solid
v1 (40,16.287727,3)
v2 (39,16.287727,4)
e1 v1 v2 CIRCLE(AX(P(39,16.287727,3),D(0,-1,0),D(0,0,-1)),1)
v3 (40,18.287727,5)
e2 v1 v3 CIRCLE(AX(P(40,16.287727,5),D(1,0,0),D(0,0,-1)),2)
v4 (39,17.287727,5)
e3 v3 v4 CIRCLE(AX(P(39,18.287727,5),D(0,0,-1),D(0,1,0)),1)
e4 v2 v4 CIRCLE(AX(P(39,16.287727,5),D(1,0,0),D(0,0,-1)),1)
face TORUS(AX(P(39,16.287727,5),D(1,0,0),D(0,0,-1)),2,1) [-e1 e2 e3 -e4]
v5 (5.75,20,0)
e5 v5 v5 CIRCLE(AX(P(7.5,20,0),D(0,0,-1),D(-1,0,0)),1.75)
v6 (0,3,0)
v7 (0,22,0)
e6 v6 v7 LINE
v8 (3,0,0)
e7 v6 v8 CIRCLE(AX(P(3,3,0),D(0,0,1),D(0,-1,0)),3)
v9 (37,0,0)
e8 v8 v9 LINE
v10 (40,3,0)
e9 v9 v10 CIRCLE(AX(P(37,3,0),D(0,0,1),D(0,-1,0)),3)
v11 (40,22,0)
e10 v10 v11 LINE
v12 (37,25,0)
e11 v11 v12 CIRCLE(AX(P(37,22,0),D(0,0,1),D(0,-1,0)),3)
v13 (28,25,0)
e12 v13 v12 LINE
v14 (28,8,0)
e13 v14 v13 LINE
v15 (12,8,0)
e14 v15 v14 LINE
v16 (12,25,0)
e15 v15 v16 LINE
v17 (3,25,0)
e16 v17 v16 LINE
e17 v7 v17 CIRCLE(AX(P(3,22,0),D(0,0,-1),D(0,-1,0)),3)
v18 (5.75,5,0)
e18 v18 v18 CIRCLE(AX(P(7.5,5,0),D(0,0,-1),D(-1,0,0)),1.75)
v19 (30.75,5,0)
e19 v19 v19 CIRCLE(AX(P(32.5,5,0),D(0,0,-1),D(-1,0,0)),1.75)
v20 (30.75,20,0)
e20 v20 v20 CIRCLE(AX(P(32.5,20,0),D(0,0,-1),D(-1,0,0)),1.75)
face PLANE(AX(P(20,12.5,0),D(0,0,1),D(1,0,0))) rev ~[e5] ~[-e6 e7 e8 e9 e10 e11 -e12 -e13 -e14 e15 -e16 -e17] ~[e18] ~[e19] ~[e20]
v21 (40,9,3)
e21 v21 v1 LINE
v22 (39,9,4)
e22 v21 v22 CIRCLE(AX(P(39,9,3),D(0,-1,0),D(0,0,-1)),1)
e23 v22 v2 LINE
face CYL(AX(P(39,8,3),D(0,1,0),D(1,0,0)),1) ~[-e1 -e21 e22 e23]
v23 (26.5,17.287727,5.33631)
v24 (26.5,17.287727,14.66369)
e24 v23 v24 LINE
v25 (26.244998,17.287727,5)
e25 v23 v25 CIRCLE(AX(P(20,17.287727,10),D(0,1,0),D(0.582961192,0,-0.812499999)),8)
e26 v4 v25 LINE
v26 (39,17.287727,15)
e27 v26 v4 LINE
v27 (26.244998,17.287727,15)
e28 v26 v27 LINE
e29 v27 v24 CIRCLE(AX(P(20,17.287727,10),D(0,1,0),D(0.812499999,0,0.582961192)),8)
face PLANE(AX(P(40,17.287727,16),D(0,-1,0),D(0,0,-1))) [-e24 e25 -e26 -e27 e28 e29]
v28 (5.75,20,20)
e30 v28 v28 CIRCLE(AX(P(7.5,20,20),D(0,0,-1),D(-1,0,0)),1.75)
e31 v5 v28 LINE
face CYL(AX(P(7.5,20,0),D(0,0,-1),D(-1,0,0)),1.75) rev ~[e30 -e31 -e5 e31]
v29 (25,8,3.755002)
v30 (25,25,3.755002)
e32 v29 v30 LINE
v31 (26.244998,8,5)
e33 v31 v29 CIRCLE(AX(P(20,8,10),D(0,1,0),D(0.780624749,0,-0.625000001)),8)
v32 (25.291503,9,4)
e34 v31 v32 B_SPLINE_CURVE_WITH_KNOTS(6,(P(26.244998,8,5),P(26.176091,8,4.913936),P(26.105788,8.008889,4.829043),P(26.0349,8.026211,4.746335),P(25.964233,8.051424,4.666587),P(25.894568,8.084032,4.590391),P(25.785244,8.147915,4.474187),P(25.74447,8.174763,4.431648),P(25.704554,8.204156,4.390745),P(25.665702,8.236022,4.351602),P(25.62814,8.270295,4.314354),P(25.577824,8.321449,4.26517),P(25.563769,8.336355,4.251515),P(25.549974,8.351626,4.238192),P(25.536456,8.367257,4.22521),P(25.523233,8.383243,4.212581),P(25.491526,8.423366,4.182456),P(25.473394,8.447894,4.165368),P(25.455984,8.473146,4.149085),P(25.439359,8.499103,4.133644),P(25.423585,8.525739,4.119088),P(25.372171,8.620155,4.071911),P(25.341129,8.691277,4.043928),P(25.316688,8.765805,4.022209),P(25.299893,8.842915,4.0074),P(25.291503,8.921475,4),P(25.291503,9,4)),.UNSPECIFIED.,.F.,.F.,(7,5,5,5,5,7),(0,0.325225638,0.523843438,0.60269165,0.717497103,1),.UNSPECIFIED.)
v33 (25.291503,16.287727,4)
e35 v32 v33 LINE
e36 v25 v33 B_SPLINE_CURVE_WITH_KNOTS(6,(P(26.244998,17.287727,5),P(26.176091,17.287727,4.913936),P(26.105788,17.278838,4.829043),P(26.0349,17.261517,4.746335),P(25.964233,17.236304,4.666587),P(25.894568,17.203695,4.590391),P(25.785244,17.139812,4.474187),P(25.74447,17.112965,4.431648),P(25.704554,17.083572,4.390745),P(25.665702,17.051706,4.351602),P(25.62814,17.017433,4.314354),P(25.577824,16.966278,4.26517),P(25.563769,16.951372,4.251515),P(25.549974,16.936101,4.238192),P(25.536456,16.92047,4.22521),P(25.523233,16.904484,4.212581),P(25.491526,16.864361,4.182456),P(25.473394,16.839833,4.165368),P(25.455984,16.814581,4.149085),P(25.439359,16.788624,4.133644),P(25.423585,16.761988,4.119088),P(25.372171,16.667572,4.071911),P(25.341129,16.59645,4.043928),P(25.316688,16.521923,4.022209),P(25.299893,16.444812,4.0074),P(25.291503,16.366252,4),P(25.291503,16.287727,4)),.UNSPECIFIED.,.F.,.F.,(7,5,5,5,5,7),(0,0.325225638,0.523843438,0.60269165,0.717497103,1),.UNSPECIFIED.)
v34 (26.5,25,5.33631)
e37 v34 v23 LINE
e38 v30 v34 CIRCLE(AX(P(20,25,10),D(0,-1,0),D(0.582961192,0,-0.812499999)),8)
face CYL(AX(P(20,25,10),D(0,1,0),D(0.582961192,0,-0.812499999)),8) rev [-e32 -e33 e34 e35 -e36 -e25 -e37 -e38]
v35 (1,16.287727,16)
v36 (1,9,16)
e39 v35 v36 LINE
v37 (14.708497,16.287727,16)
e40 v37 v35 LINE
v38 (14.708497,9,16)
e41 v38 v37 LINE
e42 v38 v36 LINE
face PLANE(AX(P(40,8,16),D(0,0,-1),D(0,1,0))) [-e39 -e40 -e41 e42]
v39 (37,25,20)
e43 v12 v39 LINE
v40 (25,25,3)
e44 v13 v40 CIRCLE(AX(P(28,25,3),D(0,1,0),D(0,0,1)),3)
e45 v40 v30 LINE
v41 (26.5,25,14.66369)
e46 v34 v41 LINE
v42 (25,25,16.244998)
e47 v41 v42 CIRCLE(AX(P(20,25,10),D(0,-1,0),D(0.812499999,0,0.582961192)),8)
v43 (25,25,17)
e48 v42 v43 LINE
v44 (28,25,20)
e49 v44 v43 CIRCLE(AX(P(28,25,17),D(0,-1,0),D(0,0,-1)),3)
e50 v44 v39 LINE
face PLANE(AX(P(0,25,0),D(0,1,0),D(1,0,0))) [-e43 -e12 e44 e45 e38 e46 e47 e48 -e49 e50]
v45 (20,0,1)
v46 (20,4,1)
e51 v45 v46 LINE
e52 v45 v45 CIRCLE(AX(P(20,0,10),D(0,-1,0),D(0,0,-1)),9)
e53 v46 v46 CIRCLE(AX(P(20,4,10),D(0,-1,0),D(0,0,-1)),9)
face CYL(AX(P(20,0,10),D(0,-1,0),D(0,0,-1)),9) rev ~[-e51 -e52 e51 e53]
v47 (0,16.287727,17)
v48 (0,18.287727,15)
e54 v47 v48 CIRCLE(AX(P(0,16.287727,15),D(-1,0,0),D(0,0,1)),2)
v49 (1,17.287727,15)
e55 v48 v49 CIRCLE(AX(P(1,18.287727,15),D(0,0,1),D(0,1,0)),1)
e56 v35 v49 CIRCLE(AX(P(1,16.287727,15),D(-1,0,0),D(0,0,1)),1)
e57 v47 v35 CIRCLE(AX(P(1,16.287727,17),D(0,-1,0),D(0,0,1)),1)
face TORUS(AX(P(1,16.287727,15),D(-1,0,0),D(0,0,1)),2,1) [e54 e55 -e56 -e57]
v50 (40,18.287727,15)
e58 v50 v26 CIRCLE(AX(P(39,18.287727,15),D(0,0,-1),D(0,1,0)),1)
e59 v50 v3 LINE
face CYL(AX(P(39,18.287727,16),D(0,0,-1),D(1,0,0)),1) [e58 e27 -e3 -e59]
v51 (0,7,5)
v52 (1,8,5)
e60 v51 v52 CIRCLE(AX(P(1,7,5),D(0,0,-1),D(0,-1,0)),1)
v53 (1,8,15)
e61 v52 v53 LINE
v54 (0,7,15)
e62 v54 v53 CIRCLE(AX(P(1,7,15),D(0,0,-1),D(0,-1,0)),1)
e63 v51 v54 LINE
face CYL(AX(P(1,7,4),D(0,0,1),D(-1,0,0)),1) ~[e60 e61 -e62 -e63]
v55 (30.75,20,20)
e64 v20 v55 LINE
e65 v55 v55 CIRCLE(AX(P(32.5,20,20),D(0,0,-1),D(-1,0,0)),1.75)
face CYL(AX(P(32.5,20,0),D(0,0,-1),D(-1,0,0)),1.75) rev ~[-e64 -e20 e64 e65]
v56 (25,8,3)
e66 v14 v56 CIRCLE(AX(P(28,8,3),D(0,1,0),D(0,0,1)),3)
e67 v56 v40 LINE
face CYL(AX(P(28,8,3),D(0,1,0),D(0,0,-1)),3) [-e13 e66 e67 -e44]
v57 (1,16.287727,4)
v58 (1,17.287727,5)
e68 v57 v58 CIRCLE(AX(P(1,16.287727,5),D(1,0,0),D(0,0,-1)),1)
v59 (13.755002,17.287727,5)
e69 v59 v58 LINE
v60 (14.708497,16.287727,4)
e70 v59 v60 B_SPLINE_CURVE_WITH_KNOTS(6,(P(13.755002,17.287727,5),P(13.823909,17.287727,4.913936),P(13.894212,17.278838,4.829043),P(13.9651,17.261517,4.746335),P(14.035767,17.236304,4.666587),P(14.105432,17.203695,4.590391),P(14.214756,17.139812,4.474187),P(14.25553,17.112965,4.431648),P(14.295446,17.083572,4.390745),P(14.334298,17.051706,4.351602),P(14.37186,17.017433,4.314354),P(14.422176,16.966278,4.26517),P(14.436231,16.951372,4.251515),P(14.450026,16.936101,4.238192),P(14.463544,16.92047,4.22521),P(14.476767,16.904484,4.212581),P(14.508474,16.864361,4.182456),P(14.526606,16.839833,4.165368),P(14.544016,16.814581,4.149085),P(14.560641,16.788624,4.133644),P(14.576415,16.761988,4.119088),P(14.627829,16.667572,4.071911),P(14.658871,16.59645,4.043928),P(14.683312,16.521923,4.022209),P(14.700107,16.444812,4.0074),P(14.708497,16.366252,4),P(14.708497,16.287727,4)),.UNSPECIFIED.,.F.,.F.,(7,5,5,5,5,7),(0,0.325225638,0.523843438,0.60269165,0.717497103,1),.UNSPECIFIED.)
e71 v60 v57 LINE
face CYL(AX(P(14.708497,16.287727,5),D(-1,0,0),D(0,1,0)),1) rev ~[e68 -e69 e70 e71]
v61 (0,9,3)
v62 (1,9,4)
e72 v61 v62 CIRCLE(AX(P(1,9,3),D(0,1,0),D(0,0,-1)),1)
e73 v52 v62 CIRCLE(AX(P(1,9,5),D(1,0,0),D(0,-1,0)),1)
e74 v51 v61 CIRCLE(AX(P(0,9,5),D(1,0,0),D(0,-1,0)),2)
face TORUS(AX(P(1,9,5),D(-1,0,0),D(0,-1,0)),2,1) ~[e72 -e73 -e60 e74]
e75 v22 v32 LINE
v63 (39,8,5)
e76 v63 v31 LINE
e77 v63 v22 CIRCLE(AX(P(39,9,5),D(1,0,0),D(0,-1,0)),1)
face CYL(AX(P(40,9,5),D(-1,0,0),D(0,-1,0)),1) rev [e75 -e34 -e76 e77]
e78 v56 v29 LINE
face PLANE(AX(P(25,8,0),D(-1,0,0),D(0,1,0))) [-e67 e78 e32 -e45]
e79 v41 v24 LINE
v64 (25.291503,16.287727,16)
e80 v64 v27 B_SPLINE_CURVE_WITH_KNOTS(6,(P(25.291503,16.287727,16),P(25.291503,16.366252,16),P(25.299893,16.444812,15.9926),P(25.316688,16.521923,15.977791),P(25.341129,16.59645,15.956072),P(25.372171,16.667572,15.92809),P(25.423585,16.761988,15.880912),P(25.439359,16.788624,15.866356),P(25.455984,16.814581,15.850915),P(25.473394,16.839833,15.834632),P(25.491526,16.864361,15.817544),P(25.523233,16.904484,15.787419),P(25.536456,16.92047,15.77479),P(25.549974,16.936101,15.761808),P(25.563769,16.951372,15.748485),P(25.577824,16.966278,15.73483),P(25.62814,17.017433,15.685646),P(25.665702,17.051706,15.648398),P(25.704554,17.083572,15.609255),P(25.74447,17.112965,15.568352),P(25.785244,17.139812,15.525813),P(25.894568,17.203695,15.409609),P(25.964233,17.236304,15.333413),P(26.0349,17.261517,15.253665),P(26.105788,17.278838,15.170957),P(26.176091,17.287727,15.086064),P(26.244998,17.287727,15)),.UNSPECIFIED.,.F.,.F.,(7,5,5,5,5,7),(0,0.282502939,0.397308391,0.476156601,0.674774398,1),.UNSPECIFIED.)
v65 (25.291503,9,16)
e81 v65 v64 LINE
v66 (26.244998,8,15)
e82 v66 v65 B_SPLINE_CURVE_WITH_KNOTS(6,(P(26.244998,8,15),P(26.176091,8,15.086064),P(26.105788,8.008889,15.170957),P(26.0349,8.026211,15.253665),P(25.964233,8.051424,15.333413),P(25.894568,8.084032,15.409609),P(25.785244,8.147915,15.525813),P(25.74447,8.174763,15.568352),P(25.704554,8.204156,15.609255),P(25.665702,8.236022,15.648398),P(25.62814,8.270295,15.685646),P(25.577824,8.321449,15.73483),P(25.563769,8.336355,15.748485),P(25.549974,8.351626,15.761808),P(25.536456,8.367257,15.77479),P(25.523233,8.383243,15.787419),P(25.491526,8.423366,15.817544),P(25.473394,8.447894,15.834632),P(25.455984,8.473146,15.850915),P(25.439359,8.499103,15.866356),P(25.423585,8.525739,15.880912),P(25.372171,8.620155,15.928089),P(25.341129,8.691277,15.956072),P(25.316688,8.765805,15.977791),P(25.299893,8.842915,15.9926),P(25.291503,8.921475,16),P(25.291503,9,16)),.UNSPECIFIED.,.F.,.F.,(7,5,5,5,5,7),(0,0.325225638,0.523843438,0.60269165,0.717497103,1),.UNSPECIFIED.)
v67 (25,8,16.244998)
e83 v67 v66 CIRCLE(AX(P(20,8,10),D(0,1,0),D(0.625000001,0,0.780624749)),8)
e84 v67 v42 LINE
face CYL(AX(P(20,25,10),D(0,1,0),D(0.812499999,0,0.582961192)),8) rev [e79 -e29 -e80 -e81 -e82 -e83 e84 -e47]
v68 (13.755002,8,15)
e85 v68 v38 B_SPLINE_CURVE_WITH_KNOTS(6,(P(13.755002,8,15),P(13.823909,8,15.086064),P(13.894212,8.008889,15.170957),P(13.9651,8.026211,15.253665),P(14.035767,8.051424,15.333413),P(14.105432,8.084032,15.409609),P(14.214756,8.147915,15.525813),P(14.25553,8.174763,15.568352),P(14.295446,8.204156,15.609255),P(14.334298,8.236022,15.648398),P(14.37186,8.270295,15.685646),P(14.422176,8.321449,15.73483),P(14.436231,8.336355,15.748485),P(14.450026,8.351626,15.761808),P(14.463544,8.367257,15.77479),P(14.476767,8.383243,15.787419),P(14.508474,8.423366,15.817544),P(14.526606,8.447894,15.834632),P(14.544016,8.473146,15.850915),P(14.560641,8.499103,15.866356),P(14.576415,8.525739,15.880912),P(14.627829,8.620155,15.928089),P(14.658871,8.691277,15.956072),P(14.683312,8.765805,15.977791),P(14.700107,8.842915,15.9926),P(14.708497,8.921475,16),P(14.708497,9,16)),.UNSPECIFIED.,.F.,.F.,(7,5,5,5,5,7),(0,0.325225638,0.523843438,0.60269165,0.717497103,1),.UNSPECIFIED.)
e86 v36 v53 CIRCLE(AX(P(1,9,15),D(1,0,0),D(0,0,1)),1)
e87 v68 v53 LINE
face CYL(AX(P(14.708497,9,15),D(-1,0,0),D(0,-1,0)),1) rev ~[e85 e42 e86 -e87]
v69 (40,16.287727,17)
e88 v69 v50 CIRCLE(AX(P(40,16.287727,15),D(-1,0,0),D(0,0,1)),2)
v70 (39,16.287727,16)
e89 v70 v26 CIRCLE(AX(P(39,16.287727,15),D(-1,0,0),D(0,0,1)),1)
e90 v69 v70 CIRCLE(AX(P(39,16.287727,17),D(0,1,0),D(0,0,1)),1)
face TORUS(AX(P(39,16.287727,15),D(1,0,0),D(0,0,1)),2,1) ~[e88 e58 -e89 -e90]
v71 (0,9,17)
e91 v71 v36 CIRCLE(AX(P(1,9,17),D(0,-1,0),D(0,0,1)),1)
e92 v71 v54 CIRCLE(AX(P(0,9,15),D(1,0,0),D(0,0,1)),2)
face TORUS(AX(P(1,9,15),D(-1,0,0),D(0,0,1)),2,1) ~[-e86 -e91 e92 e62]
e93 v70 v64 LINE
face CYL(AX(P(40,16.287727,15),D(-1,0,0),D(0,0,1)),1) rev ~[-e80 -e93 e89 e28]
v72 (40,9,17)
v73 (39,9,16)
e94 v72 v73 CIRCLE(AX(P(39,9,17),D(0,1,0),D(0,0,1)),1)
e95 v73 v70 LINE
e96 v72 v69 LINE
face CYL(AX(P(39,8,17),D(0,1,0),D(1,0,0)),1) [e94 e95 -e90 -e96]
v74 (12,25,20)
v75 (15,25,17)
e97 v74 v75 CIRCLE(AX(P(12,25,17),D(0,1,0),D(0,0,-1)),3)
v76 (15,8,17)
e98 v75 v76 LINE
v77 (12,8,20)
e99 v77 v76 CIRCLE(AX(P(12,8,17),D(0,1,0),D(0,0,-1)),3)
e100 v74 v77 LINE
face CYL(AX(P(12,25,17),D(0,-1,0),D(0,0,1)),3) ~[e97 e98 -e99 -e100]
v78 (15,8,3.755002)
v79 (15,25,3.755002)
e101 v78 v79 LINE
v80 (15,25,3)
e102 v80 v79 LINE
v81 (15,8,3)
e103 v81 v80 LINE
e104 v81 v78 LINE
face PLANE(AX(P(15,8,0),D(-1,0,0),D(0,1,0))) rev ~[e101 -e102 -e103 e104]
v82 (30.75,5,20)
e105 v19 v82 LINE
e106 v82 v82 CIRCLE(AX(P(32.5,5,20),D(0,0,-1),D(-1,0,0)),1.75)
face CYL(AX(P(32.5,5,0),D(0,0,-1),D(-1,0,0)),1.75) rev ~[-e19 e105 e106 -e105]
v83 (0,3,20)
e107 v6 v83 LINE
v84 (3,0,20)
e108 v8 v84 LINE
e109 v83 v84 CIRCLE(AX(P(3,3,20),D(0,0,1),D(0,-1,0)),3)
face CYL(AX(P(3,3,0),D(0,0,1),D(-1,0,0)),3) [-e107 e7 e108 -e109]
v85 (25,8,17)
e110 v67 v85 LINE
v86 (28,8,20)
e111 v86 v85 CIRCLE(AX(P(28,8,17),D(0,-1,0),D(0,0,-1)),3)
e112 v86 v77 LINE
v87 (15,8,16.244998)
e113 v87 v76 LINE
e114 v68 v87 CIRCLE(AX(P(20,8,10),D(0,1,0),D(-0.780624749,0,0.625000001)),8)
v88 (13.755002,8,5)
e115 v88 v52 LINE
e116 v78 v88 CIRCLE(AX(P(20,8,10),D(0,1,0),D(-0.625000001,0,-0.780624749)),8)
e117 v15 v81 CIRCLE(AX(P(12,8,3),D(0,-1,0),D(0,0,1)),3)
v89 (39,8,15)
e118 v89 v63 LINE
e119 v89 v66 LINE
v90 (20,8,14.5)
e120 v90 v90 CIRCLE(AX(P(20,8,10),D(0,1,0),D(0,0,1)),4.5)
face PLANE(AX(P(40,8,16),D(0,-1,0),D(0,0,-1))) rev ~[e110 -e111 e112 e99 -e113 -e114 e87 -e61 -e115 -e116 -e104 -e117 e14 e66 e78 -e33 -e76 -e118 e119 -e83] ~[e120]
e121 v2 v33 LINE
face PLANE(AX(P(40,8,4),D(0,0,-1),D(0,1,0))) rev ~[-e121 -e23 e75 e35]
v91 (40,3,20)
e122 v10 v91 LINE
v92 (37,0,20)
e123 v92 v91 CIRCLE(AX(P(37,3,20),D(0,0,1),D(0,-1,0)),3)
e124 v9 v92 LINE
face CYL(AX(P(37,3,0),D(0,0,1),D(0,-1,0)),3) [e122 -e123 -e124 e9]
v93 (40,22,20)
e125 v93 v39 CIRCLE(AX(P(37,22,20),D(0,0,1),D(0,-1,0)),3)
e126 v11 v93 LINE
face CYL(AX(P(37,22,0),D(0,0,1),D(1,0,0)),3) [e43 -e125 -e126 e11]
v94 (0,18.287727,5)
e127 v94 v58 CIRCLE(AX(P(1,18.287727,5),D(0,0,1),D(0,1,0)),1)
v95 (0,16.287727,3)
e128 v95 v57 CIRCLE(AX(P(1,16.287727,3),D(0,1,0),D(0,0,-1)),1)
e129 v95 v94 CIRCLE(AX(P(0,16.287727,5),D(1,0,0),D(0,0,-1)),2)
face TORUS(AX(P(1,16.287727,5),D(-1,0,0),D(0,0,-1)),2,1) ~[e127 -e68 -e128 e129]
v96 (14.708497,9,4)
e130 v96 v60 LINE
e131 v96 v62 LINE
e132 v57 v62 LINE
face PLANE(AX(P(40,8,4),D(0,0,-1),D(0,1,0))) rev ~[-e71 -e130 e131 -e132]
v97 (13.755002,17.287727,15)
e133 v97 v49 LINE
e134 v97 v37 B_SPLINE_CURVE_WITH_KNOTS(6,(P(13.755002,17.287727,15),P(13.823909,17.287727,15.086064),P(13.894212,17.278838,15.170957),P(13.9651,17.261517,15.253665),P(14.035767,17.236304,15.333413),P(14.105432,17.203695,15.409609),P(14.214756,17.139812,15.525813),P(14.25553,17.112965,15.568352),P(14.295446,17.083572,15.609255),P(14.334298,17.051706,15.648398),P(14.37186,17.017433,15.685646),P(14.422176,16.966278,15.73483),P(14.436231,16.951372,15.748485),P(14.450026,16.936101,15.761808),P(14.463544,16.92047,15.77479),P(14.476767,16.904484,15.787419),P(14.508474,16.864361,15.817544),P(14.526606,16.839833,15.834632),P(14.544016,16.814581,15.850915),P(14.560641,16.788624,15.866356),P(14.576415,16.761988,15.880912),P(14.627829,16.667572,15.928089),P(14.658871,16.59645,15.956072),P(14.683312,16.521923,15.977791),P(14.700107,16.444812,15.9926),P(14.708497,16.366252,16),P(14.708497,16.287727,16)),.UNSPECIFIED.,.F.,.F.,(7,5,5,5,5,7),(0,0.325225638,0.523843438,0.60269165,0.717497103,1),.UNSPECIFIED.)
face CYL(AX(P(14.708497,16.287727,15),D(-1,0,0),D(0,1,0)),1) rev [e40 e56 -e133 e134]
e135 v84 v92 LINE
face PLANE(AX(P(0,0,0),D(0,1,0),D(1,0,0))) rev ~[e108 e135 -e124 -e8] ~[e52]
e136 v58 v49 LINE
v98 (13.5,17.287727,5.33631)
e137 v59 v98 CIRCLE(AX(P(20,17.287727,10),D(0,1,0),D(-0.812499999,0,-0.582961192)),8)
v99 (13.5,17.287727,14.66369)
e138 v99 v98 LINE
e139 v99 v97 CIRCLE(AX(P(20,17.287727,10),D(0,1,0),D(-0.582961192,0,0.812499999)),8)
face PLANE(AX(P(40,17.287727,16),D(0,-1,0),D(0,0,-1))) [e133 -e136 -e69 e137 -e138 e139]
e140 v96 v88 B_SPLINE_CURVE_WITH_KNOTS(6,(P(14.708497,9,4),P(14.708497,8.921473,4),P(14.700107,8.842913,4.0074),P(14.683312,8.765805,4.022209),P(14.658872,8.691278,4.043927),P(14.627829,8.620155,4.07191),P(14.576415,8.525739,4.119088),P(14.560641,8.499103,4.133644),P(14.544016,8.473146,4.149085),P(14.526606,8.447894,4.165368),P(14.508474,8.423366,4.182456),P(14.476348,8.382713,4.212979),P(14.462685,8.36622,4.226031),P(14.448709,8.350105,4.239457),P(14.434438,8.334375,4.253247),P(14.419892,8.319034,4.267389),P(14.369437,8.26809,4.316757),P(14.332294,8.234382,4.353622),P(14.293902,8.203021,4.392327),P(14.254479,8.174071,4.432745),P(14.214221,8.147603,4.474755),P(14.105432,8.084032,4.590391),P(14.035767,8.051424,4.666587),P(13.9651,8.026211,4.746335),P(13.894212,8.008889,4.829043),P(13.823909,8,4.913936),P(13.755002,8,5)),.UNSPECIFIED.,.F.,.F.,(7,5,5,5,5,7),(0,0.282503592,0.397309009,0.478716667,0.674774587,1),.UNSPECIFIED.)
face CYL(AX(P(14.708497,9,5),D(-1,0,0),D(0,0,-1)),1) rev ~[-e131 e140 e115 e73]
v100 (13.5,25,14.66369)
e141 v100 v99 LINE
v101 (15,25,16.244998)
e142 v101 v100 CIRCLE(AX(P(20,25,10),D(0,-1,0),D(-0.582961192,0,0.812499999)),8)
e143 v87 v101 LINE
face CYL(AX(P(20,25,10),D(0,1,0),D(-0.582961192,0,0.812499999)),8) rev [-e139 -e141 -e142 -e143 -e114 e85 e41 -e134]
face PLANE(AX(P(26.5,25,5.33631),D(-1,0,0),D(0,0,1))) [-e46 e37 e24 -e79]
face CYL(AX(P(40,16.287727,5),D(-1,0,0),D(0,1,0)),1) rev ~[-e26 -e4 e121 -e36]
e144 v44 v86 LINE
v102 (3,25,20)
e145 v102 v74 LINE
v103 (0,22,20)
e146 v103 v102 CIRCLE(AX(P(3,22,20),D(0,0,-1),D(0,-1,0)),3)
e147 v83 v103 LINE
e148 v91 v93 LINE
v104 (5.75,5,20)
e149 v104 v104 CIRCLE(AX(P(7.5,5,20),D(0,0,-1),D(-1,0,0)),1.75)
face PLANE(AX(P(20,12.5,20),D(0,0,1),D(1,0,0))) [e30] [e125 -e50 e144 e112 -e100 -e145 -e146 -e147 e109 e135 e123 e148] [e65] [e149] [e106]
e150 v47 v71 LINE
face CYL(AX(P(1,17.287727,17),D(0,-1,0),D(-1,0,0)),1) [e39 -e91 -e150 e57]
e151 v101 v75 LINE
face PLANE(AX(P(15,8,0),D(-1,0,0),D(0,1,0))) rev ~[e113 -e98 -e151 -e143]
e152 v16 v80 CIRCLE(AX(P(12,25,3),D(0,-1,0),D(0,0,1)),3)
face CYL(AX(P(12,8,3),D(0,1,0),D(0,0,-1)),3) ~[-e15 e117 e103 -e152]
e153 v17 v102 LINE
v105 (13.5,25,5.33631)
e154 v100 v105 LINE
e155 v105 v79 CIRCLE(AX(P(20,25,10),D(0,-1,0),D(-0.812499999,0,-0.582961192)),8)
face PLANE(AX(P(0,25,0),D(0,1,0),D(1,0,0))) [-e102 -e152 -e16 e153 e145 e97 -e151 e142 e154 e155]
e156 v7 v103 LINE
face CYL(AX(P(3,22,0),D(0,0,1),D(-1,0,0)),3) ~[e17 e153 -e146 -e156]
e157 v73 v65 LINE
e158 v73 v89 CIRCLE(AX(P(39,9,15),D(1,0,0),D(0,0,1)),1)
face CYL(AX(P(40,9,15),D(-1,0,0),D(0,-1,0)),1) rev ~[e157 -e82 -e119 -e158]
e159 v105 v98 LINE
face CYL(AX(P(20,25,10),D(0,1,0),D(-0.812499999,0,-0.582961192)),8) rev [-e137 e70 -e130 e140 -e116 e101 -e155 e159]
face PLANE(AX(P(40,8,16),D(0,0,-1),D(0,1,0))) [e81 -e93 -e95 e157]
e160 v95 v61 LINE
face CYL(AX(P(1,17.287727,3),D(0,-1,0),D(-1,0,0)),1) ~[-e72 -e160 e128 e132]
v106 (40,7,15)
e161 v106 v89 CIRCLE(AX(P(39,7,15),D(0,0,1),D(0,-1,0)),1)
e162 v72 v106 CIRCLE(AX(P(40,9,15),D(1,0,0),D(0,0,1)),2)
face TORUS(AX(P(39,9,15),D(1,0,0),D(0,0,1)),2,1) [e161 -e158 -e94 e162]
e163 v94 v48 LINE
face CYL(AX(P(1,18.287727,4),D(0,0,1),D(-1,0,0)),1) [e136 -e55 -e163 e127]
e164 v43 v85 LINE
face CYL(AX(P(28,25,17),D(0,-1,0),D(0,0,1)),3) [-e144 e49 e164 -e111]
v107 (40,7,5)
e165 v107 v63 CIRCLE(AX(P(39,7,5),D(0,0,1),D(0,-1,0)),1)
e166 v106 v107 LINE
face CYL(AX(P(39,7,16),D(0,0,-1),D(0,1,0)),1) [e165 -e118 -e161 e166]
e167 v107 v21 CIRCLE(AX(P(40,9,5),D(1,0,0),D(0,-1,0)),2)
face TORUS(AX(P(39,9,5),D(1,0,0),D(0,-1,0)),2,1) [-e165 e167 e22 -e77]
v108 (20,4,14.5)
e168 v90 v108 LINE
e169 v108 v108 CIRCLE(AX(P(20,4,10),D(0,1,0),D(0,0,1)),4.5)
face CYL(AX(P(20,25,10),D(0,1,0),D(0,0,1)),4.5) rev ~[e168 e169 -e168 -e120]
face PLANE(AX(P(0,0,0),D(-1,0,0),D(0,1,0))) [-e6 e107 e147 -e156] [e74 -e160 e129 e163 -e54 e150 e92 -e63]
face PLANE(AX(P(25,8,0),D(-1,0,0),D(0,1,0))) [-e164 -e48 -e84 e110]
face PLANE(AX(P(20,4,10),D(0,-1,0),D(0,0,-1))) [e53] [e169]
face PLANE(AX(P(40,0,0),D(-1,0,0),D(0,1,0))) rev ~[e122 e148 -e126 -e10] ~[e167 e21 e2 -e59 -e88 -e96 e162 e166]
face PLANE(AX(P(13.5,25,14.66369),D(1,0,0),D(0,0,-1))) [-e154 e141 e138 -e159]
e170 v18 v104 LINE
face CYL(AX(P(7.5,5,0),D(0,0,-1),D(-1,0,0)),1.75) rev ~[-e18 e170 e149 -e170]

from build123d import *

# Parameters (mm, degrees)
SKETCH_1_W          = 40
SKETCH_1_H          = 25
EXTRUDE_1_DEPTH     = 20
SKETCH_2_R          = 4.5
CUT_EXTRUDE_1_DEPTH = 52.23475383
CUT_EXTRUDE_2_DEPTH = 17
SKETCH_4_R          = 1.75
SKETCH_4_W          = 10
SKETCH_4_H          = 17
CUT_EXTRUDE_3_DEPTH = 52.23475383
FILLET_1_R          = 3
SKETCH_5_R          = 9
CUT_EXTRUDE_4_DEPTH = 4
SKETCH_7_W          = 12
SKETCH_7_H          = 9.287727203
CUT_EXTRUDE_5_DEPTH = 52.23475383
FILLET_2_R          = 1


with BuildPart() as part:
    # 草图1 → 凸台-拉伸1 (new body)
    with BuildSketch(Plane.XY):
        with Locations((20, 12.5)):
            Rectangle(SKETCH_1_W, SKETCH_1_H)
    extrude(amount=EXTRUDE_1_DEPTH)

    # 草图2 → 切除-拉伸1 (cut, through all)
    with BuildSketch(Plane(origin=(0, 25, 0), x_dir=(1, 0, 0), z_dir=(0, 1, 0))):
        with Locations(Location((20, -10, 0), (0, 0, 270))):
            Circle(SKETCH_2_R)
    extrude(amount=-CUT_EXTRUDE_1_DEPTH, mode=Mode.SUBTRACT)

    # 草图3 → 切除-拉伸2 (cut)
    with BuildSketch(Plane(origin=(0, 25, 0), x_dir=(1, 0, 0), z_dir=(0, 1, 0))):
        with BuildLine():
            Line((15.336310473, -3.5), (24.663689527, -3.5))
            ThreePointArc((24.663689527, -3.5), (25.656854249, -4.343145751), (26.5, -5.336310473))
            Line((26.5, -5.336310473), (26.5, -14.663689527))
            ThreePointArc((26.5, -14.663689527), (25.656854249, -15.656854249), (24.663689527, -16.5))
            Line((24.663689527, -16.5), (15.336310473, -16.5))
            ThreePointArc((15.336310473, -16.5), (14.343145751, -15.656854249), (13.5, -14.663689527))
            Line((13.5, -14.663689527), (13.5, -5.336310473))
            ThreePointArc((13.5, -5.336310473), (14.343145751, -4.343145751), (15.336310473, -3.5))
        make_face()
    extrude(amount=-CUT_EXTRUDE_2_DEPTH, mode=Mode.SUBTRACT)

    # 草图4 → 切除-拉伸3 (cut, through all)
    with BuildSketch(Plane(origin=(0, 0, 0), x_dir=(-1, 0, 0), z_dir=(0, 0, -1))):
        with Locations((-32.5, 20)):
            Circle(SKETCH_4_R)
        with Locations((-32.5, 5)):
            Circle(SKETCH_4_R)
        with Locations((-7.5, 20)):
            Circle(SKETCH_4_R)
        with Locations((-7.5, 5)):
            Circle(SKETCH_4_R)
        with Locations((-20, 16.5)):
            Rectangle(SKETCH_4_W, SKETCH_4_H)
    extrude(amount=-CUT_EXTRUDE_3_DEPTH, mode=Mode.SUBTRACT)

    # 圆角1
    fillet_1_edges = [part.edges().sort_by_distance(p)[0] for p in [
        (25, 16.5, 20),
        (15, 16.5, 20),
        (25, 16.5, 0),
        (15, 16.5, 0),
        (0, 25, 10),
        (40, 25, 10),
        (40, 0, 10),
        (0, 0, 10),
    ]]
    fillet(fillet_1_edges, radius=FILLET_1_R)

    # 草图5 → 切除-拉伸4 (cut)
    with BuildSketch(Plane.XZ):
        with Locations(Location((20, 10, 0), (0, 0, 270))):
            Circle(SKETCH_5_R)
    extrude(amount=-CUT_EXTRUDE_4_DEPTH, mode=Mode.SUBTRACT)

    # 草图7 → 切除-拉伸5 (cut, through all)
    with BuildSketch(Plane(origin=(40, 0, 0), x_dir=(0, 0, -1), z_dir=(1, 0, 0))):
        with Locations((-10, 12.643863601)):
            Rectangle(SKETCH_7_W, SKETCH_7_H)
    extrude(amount=-CUT_EXTRUDE_5_DEPTH, mode=Mode.SUBTRACT)

    # 圆角2
    fillet_2_edges = [part.edges().sort_by_distance(p)[0] for p in [
        (7.354248689, 17.287727203, 4),
        (0, 12.643863602, 4),
        (32.645751311, 17.287727203, 4),
        (32.645751311, 8, 16),
        (7.354248689, 8, 16),
        (0, 12.643863602, 16),
        (32.645751311, 17.287727203, 16),
        (0, 17.287727203, 10),
        (7.354248689, 17.287727203, 16),
        (32.645751311, 8, 4),
        (7.354248689, 8, 4),
        (0, 8, 10),
        (40, 12.643863602, 16),
        (40, 8, 10),
        (40, 12.643863602, 4),
        (40, 17.287727203, 10),
    ]]
    fillet(fillet_2_edges, radius=FILLET_2_R)


solid = part.part
